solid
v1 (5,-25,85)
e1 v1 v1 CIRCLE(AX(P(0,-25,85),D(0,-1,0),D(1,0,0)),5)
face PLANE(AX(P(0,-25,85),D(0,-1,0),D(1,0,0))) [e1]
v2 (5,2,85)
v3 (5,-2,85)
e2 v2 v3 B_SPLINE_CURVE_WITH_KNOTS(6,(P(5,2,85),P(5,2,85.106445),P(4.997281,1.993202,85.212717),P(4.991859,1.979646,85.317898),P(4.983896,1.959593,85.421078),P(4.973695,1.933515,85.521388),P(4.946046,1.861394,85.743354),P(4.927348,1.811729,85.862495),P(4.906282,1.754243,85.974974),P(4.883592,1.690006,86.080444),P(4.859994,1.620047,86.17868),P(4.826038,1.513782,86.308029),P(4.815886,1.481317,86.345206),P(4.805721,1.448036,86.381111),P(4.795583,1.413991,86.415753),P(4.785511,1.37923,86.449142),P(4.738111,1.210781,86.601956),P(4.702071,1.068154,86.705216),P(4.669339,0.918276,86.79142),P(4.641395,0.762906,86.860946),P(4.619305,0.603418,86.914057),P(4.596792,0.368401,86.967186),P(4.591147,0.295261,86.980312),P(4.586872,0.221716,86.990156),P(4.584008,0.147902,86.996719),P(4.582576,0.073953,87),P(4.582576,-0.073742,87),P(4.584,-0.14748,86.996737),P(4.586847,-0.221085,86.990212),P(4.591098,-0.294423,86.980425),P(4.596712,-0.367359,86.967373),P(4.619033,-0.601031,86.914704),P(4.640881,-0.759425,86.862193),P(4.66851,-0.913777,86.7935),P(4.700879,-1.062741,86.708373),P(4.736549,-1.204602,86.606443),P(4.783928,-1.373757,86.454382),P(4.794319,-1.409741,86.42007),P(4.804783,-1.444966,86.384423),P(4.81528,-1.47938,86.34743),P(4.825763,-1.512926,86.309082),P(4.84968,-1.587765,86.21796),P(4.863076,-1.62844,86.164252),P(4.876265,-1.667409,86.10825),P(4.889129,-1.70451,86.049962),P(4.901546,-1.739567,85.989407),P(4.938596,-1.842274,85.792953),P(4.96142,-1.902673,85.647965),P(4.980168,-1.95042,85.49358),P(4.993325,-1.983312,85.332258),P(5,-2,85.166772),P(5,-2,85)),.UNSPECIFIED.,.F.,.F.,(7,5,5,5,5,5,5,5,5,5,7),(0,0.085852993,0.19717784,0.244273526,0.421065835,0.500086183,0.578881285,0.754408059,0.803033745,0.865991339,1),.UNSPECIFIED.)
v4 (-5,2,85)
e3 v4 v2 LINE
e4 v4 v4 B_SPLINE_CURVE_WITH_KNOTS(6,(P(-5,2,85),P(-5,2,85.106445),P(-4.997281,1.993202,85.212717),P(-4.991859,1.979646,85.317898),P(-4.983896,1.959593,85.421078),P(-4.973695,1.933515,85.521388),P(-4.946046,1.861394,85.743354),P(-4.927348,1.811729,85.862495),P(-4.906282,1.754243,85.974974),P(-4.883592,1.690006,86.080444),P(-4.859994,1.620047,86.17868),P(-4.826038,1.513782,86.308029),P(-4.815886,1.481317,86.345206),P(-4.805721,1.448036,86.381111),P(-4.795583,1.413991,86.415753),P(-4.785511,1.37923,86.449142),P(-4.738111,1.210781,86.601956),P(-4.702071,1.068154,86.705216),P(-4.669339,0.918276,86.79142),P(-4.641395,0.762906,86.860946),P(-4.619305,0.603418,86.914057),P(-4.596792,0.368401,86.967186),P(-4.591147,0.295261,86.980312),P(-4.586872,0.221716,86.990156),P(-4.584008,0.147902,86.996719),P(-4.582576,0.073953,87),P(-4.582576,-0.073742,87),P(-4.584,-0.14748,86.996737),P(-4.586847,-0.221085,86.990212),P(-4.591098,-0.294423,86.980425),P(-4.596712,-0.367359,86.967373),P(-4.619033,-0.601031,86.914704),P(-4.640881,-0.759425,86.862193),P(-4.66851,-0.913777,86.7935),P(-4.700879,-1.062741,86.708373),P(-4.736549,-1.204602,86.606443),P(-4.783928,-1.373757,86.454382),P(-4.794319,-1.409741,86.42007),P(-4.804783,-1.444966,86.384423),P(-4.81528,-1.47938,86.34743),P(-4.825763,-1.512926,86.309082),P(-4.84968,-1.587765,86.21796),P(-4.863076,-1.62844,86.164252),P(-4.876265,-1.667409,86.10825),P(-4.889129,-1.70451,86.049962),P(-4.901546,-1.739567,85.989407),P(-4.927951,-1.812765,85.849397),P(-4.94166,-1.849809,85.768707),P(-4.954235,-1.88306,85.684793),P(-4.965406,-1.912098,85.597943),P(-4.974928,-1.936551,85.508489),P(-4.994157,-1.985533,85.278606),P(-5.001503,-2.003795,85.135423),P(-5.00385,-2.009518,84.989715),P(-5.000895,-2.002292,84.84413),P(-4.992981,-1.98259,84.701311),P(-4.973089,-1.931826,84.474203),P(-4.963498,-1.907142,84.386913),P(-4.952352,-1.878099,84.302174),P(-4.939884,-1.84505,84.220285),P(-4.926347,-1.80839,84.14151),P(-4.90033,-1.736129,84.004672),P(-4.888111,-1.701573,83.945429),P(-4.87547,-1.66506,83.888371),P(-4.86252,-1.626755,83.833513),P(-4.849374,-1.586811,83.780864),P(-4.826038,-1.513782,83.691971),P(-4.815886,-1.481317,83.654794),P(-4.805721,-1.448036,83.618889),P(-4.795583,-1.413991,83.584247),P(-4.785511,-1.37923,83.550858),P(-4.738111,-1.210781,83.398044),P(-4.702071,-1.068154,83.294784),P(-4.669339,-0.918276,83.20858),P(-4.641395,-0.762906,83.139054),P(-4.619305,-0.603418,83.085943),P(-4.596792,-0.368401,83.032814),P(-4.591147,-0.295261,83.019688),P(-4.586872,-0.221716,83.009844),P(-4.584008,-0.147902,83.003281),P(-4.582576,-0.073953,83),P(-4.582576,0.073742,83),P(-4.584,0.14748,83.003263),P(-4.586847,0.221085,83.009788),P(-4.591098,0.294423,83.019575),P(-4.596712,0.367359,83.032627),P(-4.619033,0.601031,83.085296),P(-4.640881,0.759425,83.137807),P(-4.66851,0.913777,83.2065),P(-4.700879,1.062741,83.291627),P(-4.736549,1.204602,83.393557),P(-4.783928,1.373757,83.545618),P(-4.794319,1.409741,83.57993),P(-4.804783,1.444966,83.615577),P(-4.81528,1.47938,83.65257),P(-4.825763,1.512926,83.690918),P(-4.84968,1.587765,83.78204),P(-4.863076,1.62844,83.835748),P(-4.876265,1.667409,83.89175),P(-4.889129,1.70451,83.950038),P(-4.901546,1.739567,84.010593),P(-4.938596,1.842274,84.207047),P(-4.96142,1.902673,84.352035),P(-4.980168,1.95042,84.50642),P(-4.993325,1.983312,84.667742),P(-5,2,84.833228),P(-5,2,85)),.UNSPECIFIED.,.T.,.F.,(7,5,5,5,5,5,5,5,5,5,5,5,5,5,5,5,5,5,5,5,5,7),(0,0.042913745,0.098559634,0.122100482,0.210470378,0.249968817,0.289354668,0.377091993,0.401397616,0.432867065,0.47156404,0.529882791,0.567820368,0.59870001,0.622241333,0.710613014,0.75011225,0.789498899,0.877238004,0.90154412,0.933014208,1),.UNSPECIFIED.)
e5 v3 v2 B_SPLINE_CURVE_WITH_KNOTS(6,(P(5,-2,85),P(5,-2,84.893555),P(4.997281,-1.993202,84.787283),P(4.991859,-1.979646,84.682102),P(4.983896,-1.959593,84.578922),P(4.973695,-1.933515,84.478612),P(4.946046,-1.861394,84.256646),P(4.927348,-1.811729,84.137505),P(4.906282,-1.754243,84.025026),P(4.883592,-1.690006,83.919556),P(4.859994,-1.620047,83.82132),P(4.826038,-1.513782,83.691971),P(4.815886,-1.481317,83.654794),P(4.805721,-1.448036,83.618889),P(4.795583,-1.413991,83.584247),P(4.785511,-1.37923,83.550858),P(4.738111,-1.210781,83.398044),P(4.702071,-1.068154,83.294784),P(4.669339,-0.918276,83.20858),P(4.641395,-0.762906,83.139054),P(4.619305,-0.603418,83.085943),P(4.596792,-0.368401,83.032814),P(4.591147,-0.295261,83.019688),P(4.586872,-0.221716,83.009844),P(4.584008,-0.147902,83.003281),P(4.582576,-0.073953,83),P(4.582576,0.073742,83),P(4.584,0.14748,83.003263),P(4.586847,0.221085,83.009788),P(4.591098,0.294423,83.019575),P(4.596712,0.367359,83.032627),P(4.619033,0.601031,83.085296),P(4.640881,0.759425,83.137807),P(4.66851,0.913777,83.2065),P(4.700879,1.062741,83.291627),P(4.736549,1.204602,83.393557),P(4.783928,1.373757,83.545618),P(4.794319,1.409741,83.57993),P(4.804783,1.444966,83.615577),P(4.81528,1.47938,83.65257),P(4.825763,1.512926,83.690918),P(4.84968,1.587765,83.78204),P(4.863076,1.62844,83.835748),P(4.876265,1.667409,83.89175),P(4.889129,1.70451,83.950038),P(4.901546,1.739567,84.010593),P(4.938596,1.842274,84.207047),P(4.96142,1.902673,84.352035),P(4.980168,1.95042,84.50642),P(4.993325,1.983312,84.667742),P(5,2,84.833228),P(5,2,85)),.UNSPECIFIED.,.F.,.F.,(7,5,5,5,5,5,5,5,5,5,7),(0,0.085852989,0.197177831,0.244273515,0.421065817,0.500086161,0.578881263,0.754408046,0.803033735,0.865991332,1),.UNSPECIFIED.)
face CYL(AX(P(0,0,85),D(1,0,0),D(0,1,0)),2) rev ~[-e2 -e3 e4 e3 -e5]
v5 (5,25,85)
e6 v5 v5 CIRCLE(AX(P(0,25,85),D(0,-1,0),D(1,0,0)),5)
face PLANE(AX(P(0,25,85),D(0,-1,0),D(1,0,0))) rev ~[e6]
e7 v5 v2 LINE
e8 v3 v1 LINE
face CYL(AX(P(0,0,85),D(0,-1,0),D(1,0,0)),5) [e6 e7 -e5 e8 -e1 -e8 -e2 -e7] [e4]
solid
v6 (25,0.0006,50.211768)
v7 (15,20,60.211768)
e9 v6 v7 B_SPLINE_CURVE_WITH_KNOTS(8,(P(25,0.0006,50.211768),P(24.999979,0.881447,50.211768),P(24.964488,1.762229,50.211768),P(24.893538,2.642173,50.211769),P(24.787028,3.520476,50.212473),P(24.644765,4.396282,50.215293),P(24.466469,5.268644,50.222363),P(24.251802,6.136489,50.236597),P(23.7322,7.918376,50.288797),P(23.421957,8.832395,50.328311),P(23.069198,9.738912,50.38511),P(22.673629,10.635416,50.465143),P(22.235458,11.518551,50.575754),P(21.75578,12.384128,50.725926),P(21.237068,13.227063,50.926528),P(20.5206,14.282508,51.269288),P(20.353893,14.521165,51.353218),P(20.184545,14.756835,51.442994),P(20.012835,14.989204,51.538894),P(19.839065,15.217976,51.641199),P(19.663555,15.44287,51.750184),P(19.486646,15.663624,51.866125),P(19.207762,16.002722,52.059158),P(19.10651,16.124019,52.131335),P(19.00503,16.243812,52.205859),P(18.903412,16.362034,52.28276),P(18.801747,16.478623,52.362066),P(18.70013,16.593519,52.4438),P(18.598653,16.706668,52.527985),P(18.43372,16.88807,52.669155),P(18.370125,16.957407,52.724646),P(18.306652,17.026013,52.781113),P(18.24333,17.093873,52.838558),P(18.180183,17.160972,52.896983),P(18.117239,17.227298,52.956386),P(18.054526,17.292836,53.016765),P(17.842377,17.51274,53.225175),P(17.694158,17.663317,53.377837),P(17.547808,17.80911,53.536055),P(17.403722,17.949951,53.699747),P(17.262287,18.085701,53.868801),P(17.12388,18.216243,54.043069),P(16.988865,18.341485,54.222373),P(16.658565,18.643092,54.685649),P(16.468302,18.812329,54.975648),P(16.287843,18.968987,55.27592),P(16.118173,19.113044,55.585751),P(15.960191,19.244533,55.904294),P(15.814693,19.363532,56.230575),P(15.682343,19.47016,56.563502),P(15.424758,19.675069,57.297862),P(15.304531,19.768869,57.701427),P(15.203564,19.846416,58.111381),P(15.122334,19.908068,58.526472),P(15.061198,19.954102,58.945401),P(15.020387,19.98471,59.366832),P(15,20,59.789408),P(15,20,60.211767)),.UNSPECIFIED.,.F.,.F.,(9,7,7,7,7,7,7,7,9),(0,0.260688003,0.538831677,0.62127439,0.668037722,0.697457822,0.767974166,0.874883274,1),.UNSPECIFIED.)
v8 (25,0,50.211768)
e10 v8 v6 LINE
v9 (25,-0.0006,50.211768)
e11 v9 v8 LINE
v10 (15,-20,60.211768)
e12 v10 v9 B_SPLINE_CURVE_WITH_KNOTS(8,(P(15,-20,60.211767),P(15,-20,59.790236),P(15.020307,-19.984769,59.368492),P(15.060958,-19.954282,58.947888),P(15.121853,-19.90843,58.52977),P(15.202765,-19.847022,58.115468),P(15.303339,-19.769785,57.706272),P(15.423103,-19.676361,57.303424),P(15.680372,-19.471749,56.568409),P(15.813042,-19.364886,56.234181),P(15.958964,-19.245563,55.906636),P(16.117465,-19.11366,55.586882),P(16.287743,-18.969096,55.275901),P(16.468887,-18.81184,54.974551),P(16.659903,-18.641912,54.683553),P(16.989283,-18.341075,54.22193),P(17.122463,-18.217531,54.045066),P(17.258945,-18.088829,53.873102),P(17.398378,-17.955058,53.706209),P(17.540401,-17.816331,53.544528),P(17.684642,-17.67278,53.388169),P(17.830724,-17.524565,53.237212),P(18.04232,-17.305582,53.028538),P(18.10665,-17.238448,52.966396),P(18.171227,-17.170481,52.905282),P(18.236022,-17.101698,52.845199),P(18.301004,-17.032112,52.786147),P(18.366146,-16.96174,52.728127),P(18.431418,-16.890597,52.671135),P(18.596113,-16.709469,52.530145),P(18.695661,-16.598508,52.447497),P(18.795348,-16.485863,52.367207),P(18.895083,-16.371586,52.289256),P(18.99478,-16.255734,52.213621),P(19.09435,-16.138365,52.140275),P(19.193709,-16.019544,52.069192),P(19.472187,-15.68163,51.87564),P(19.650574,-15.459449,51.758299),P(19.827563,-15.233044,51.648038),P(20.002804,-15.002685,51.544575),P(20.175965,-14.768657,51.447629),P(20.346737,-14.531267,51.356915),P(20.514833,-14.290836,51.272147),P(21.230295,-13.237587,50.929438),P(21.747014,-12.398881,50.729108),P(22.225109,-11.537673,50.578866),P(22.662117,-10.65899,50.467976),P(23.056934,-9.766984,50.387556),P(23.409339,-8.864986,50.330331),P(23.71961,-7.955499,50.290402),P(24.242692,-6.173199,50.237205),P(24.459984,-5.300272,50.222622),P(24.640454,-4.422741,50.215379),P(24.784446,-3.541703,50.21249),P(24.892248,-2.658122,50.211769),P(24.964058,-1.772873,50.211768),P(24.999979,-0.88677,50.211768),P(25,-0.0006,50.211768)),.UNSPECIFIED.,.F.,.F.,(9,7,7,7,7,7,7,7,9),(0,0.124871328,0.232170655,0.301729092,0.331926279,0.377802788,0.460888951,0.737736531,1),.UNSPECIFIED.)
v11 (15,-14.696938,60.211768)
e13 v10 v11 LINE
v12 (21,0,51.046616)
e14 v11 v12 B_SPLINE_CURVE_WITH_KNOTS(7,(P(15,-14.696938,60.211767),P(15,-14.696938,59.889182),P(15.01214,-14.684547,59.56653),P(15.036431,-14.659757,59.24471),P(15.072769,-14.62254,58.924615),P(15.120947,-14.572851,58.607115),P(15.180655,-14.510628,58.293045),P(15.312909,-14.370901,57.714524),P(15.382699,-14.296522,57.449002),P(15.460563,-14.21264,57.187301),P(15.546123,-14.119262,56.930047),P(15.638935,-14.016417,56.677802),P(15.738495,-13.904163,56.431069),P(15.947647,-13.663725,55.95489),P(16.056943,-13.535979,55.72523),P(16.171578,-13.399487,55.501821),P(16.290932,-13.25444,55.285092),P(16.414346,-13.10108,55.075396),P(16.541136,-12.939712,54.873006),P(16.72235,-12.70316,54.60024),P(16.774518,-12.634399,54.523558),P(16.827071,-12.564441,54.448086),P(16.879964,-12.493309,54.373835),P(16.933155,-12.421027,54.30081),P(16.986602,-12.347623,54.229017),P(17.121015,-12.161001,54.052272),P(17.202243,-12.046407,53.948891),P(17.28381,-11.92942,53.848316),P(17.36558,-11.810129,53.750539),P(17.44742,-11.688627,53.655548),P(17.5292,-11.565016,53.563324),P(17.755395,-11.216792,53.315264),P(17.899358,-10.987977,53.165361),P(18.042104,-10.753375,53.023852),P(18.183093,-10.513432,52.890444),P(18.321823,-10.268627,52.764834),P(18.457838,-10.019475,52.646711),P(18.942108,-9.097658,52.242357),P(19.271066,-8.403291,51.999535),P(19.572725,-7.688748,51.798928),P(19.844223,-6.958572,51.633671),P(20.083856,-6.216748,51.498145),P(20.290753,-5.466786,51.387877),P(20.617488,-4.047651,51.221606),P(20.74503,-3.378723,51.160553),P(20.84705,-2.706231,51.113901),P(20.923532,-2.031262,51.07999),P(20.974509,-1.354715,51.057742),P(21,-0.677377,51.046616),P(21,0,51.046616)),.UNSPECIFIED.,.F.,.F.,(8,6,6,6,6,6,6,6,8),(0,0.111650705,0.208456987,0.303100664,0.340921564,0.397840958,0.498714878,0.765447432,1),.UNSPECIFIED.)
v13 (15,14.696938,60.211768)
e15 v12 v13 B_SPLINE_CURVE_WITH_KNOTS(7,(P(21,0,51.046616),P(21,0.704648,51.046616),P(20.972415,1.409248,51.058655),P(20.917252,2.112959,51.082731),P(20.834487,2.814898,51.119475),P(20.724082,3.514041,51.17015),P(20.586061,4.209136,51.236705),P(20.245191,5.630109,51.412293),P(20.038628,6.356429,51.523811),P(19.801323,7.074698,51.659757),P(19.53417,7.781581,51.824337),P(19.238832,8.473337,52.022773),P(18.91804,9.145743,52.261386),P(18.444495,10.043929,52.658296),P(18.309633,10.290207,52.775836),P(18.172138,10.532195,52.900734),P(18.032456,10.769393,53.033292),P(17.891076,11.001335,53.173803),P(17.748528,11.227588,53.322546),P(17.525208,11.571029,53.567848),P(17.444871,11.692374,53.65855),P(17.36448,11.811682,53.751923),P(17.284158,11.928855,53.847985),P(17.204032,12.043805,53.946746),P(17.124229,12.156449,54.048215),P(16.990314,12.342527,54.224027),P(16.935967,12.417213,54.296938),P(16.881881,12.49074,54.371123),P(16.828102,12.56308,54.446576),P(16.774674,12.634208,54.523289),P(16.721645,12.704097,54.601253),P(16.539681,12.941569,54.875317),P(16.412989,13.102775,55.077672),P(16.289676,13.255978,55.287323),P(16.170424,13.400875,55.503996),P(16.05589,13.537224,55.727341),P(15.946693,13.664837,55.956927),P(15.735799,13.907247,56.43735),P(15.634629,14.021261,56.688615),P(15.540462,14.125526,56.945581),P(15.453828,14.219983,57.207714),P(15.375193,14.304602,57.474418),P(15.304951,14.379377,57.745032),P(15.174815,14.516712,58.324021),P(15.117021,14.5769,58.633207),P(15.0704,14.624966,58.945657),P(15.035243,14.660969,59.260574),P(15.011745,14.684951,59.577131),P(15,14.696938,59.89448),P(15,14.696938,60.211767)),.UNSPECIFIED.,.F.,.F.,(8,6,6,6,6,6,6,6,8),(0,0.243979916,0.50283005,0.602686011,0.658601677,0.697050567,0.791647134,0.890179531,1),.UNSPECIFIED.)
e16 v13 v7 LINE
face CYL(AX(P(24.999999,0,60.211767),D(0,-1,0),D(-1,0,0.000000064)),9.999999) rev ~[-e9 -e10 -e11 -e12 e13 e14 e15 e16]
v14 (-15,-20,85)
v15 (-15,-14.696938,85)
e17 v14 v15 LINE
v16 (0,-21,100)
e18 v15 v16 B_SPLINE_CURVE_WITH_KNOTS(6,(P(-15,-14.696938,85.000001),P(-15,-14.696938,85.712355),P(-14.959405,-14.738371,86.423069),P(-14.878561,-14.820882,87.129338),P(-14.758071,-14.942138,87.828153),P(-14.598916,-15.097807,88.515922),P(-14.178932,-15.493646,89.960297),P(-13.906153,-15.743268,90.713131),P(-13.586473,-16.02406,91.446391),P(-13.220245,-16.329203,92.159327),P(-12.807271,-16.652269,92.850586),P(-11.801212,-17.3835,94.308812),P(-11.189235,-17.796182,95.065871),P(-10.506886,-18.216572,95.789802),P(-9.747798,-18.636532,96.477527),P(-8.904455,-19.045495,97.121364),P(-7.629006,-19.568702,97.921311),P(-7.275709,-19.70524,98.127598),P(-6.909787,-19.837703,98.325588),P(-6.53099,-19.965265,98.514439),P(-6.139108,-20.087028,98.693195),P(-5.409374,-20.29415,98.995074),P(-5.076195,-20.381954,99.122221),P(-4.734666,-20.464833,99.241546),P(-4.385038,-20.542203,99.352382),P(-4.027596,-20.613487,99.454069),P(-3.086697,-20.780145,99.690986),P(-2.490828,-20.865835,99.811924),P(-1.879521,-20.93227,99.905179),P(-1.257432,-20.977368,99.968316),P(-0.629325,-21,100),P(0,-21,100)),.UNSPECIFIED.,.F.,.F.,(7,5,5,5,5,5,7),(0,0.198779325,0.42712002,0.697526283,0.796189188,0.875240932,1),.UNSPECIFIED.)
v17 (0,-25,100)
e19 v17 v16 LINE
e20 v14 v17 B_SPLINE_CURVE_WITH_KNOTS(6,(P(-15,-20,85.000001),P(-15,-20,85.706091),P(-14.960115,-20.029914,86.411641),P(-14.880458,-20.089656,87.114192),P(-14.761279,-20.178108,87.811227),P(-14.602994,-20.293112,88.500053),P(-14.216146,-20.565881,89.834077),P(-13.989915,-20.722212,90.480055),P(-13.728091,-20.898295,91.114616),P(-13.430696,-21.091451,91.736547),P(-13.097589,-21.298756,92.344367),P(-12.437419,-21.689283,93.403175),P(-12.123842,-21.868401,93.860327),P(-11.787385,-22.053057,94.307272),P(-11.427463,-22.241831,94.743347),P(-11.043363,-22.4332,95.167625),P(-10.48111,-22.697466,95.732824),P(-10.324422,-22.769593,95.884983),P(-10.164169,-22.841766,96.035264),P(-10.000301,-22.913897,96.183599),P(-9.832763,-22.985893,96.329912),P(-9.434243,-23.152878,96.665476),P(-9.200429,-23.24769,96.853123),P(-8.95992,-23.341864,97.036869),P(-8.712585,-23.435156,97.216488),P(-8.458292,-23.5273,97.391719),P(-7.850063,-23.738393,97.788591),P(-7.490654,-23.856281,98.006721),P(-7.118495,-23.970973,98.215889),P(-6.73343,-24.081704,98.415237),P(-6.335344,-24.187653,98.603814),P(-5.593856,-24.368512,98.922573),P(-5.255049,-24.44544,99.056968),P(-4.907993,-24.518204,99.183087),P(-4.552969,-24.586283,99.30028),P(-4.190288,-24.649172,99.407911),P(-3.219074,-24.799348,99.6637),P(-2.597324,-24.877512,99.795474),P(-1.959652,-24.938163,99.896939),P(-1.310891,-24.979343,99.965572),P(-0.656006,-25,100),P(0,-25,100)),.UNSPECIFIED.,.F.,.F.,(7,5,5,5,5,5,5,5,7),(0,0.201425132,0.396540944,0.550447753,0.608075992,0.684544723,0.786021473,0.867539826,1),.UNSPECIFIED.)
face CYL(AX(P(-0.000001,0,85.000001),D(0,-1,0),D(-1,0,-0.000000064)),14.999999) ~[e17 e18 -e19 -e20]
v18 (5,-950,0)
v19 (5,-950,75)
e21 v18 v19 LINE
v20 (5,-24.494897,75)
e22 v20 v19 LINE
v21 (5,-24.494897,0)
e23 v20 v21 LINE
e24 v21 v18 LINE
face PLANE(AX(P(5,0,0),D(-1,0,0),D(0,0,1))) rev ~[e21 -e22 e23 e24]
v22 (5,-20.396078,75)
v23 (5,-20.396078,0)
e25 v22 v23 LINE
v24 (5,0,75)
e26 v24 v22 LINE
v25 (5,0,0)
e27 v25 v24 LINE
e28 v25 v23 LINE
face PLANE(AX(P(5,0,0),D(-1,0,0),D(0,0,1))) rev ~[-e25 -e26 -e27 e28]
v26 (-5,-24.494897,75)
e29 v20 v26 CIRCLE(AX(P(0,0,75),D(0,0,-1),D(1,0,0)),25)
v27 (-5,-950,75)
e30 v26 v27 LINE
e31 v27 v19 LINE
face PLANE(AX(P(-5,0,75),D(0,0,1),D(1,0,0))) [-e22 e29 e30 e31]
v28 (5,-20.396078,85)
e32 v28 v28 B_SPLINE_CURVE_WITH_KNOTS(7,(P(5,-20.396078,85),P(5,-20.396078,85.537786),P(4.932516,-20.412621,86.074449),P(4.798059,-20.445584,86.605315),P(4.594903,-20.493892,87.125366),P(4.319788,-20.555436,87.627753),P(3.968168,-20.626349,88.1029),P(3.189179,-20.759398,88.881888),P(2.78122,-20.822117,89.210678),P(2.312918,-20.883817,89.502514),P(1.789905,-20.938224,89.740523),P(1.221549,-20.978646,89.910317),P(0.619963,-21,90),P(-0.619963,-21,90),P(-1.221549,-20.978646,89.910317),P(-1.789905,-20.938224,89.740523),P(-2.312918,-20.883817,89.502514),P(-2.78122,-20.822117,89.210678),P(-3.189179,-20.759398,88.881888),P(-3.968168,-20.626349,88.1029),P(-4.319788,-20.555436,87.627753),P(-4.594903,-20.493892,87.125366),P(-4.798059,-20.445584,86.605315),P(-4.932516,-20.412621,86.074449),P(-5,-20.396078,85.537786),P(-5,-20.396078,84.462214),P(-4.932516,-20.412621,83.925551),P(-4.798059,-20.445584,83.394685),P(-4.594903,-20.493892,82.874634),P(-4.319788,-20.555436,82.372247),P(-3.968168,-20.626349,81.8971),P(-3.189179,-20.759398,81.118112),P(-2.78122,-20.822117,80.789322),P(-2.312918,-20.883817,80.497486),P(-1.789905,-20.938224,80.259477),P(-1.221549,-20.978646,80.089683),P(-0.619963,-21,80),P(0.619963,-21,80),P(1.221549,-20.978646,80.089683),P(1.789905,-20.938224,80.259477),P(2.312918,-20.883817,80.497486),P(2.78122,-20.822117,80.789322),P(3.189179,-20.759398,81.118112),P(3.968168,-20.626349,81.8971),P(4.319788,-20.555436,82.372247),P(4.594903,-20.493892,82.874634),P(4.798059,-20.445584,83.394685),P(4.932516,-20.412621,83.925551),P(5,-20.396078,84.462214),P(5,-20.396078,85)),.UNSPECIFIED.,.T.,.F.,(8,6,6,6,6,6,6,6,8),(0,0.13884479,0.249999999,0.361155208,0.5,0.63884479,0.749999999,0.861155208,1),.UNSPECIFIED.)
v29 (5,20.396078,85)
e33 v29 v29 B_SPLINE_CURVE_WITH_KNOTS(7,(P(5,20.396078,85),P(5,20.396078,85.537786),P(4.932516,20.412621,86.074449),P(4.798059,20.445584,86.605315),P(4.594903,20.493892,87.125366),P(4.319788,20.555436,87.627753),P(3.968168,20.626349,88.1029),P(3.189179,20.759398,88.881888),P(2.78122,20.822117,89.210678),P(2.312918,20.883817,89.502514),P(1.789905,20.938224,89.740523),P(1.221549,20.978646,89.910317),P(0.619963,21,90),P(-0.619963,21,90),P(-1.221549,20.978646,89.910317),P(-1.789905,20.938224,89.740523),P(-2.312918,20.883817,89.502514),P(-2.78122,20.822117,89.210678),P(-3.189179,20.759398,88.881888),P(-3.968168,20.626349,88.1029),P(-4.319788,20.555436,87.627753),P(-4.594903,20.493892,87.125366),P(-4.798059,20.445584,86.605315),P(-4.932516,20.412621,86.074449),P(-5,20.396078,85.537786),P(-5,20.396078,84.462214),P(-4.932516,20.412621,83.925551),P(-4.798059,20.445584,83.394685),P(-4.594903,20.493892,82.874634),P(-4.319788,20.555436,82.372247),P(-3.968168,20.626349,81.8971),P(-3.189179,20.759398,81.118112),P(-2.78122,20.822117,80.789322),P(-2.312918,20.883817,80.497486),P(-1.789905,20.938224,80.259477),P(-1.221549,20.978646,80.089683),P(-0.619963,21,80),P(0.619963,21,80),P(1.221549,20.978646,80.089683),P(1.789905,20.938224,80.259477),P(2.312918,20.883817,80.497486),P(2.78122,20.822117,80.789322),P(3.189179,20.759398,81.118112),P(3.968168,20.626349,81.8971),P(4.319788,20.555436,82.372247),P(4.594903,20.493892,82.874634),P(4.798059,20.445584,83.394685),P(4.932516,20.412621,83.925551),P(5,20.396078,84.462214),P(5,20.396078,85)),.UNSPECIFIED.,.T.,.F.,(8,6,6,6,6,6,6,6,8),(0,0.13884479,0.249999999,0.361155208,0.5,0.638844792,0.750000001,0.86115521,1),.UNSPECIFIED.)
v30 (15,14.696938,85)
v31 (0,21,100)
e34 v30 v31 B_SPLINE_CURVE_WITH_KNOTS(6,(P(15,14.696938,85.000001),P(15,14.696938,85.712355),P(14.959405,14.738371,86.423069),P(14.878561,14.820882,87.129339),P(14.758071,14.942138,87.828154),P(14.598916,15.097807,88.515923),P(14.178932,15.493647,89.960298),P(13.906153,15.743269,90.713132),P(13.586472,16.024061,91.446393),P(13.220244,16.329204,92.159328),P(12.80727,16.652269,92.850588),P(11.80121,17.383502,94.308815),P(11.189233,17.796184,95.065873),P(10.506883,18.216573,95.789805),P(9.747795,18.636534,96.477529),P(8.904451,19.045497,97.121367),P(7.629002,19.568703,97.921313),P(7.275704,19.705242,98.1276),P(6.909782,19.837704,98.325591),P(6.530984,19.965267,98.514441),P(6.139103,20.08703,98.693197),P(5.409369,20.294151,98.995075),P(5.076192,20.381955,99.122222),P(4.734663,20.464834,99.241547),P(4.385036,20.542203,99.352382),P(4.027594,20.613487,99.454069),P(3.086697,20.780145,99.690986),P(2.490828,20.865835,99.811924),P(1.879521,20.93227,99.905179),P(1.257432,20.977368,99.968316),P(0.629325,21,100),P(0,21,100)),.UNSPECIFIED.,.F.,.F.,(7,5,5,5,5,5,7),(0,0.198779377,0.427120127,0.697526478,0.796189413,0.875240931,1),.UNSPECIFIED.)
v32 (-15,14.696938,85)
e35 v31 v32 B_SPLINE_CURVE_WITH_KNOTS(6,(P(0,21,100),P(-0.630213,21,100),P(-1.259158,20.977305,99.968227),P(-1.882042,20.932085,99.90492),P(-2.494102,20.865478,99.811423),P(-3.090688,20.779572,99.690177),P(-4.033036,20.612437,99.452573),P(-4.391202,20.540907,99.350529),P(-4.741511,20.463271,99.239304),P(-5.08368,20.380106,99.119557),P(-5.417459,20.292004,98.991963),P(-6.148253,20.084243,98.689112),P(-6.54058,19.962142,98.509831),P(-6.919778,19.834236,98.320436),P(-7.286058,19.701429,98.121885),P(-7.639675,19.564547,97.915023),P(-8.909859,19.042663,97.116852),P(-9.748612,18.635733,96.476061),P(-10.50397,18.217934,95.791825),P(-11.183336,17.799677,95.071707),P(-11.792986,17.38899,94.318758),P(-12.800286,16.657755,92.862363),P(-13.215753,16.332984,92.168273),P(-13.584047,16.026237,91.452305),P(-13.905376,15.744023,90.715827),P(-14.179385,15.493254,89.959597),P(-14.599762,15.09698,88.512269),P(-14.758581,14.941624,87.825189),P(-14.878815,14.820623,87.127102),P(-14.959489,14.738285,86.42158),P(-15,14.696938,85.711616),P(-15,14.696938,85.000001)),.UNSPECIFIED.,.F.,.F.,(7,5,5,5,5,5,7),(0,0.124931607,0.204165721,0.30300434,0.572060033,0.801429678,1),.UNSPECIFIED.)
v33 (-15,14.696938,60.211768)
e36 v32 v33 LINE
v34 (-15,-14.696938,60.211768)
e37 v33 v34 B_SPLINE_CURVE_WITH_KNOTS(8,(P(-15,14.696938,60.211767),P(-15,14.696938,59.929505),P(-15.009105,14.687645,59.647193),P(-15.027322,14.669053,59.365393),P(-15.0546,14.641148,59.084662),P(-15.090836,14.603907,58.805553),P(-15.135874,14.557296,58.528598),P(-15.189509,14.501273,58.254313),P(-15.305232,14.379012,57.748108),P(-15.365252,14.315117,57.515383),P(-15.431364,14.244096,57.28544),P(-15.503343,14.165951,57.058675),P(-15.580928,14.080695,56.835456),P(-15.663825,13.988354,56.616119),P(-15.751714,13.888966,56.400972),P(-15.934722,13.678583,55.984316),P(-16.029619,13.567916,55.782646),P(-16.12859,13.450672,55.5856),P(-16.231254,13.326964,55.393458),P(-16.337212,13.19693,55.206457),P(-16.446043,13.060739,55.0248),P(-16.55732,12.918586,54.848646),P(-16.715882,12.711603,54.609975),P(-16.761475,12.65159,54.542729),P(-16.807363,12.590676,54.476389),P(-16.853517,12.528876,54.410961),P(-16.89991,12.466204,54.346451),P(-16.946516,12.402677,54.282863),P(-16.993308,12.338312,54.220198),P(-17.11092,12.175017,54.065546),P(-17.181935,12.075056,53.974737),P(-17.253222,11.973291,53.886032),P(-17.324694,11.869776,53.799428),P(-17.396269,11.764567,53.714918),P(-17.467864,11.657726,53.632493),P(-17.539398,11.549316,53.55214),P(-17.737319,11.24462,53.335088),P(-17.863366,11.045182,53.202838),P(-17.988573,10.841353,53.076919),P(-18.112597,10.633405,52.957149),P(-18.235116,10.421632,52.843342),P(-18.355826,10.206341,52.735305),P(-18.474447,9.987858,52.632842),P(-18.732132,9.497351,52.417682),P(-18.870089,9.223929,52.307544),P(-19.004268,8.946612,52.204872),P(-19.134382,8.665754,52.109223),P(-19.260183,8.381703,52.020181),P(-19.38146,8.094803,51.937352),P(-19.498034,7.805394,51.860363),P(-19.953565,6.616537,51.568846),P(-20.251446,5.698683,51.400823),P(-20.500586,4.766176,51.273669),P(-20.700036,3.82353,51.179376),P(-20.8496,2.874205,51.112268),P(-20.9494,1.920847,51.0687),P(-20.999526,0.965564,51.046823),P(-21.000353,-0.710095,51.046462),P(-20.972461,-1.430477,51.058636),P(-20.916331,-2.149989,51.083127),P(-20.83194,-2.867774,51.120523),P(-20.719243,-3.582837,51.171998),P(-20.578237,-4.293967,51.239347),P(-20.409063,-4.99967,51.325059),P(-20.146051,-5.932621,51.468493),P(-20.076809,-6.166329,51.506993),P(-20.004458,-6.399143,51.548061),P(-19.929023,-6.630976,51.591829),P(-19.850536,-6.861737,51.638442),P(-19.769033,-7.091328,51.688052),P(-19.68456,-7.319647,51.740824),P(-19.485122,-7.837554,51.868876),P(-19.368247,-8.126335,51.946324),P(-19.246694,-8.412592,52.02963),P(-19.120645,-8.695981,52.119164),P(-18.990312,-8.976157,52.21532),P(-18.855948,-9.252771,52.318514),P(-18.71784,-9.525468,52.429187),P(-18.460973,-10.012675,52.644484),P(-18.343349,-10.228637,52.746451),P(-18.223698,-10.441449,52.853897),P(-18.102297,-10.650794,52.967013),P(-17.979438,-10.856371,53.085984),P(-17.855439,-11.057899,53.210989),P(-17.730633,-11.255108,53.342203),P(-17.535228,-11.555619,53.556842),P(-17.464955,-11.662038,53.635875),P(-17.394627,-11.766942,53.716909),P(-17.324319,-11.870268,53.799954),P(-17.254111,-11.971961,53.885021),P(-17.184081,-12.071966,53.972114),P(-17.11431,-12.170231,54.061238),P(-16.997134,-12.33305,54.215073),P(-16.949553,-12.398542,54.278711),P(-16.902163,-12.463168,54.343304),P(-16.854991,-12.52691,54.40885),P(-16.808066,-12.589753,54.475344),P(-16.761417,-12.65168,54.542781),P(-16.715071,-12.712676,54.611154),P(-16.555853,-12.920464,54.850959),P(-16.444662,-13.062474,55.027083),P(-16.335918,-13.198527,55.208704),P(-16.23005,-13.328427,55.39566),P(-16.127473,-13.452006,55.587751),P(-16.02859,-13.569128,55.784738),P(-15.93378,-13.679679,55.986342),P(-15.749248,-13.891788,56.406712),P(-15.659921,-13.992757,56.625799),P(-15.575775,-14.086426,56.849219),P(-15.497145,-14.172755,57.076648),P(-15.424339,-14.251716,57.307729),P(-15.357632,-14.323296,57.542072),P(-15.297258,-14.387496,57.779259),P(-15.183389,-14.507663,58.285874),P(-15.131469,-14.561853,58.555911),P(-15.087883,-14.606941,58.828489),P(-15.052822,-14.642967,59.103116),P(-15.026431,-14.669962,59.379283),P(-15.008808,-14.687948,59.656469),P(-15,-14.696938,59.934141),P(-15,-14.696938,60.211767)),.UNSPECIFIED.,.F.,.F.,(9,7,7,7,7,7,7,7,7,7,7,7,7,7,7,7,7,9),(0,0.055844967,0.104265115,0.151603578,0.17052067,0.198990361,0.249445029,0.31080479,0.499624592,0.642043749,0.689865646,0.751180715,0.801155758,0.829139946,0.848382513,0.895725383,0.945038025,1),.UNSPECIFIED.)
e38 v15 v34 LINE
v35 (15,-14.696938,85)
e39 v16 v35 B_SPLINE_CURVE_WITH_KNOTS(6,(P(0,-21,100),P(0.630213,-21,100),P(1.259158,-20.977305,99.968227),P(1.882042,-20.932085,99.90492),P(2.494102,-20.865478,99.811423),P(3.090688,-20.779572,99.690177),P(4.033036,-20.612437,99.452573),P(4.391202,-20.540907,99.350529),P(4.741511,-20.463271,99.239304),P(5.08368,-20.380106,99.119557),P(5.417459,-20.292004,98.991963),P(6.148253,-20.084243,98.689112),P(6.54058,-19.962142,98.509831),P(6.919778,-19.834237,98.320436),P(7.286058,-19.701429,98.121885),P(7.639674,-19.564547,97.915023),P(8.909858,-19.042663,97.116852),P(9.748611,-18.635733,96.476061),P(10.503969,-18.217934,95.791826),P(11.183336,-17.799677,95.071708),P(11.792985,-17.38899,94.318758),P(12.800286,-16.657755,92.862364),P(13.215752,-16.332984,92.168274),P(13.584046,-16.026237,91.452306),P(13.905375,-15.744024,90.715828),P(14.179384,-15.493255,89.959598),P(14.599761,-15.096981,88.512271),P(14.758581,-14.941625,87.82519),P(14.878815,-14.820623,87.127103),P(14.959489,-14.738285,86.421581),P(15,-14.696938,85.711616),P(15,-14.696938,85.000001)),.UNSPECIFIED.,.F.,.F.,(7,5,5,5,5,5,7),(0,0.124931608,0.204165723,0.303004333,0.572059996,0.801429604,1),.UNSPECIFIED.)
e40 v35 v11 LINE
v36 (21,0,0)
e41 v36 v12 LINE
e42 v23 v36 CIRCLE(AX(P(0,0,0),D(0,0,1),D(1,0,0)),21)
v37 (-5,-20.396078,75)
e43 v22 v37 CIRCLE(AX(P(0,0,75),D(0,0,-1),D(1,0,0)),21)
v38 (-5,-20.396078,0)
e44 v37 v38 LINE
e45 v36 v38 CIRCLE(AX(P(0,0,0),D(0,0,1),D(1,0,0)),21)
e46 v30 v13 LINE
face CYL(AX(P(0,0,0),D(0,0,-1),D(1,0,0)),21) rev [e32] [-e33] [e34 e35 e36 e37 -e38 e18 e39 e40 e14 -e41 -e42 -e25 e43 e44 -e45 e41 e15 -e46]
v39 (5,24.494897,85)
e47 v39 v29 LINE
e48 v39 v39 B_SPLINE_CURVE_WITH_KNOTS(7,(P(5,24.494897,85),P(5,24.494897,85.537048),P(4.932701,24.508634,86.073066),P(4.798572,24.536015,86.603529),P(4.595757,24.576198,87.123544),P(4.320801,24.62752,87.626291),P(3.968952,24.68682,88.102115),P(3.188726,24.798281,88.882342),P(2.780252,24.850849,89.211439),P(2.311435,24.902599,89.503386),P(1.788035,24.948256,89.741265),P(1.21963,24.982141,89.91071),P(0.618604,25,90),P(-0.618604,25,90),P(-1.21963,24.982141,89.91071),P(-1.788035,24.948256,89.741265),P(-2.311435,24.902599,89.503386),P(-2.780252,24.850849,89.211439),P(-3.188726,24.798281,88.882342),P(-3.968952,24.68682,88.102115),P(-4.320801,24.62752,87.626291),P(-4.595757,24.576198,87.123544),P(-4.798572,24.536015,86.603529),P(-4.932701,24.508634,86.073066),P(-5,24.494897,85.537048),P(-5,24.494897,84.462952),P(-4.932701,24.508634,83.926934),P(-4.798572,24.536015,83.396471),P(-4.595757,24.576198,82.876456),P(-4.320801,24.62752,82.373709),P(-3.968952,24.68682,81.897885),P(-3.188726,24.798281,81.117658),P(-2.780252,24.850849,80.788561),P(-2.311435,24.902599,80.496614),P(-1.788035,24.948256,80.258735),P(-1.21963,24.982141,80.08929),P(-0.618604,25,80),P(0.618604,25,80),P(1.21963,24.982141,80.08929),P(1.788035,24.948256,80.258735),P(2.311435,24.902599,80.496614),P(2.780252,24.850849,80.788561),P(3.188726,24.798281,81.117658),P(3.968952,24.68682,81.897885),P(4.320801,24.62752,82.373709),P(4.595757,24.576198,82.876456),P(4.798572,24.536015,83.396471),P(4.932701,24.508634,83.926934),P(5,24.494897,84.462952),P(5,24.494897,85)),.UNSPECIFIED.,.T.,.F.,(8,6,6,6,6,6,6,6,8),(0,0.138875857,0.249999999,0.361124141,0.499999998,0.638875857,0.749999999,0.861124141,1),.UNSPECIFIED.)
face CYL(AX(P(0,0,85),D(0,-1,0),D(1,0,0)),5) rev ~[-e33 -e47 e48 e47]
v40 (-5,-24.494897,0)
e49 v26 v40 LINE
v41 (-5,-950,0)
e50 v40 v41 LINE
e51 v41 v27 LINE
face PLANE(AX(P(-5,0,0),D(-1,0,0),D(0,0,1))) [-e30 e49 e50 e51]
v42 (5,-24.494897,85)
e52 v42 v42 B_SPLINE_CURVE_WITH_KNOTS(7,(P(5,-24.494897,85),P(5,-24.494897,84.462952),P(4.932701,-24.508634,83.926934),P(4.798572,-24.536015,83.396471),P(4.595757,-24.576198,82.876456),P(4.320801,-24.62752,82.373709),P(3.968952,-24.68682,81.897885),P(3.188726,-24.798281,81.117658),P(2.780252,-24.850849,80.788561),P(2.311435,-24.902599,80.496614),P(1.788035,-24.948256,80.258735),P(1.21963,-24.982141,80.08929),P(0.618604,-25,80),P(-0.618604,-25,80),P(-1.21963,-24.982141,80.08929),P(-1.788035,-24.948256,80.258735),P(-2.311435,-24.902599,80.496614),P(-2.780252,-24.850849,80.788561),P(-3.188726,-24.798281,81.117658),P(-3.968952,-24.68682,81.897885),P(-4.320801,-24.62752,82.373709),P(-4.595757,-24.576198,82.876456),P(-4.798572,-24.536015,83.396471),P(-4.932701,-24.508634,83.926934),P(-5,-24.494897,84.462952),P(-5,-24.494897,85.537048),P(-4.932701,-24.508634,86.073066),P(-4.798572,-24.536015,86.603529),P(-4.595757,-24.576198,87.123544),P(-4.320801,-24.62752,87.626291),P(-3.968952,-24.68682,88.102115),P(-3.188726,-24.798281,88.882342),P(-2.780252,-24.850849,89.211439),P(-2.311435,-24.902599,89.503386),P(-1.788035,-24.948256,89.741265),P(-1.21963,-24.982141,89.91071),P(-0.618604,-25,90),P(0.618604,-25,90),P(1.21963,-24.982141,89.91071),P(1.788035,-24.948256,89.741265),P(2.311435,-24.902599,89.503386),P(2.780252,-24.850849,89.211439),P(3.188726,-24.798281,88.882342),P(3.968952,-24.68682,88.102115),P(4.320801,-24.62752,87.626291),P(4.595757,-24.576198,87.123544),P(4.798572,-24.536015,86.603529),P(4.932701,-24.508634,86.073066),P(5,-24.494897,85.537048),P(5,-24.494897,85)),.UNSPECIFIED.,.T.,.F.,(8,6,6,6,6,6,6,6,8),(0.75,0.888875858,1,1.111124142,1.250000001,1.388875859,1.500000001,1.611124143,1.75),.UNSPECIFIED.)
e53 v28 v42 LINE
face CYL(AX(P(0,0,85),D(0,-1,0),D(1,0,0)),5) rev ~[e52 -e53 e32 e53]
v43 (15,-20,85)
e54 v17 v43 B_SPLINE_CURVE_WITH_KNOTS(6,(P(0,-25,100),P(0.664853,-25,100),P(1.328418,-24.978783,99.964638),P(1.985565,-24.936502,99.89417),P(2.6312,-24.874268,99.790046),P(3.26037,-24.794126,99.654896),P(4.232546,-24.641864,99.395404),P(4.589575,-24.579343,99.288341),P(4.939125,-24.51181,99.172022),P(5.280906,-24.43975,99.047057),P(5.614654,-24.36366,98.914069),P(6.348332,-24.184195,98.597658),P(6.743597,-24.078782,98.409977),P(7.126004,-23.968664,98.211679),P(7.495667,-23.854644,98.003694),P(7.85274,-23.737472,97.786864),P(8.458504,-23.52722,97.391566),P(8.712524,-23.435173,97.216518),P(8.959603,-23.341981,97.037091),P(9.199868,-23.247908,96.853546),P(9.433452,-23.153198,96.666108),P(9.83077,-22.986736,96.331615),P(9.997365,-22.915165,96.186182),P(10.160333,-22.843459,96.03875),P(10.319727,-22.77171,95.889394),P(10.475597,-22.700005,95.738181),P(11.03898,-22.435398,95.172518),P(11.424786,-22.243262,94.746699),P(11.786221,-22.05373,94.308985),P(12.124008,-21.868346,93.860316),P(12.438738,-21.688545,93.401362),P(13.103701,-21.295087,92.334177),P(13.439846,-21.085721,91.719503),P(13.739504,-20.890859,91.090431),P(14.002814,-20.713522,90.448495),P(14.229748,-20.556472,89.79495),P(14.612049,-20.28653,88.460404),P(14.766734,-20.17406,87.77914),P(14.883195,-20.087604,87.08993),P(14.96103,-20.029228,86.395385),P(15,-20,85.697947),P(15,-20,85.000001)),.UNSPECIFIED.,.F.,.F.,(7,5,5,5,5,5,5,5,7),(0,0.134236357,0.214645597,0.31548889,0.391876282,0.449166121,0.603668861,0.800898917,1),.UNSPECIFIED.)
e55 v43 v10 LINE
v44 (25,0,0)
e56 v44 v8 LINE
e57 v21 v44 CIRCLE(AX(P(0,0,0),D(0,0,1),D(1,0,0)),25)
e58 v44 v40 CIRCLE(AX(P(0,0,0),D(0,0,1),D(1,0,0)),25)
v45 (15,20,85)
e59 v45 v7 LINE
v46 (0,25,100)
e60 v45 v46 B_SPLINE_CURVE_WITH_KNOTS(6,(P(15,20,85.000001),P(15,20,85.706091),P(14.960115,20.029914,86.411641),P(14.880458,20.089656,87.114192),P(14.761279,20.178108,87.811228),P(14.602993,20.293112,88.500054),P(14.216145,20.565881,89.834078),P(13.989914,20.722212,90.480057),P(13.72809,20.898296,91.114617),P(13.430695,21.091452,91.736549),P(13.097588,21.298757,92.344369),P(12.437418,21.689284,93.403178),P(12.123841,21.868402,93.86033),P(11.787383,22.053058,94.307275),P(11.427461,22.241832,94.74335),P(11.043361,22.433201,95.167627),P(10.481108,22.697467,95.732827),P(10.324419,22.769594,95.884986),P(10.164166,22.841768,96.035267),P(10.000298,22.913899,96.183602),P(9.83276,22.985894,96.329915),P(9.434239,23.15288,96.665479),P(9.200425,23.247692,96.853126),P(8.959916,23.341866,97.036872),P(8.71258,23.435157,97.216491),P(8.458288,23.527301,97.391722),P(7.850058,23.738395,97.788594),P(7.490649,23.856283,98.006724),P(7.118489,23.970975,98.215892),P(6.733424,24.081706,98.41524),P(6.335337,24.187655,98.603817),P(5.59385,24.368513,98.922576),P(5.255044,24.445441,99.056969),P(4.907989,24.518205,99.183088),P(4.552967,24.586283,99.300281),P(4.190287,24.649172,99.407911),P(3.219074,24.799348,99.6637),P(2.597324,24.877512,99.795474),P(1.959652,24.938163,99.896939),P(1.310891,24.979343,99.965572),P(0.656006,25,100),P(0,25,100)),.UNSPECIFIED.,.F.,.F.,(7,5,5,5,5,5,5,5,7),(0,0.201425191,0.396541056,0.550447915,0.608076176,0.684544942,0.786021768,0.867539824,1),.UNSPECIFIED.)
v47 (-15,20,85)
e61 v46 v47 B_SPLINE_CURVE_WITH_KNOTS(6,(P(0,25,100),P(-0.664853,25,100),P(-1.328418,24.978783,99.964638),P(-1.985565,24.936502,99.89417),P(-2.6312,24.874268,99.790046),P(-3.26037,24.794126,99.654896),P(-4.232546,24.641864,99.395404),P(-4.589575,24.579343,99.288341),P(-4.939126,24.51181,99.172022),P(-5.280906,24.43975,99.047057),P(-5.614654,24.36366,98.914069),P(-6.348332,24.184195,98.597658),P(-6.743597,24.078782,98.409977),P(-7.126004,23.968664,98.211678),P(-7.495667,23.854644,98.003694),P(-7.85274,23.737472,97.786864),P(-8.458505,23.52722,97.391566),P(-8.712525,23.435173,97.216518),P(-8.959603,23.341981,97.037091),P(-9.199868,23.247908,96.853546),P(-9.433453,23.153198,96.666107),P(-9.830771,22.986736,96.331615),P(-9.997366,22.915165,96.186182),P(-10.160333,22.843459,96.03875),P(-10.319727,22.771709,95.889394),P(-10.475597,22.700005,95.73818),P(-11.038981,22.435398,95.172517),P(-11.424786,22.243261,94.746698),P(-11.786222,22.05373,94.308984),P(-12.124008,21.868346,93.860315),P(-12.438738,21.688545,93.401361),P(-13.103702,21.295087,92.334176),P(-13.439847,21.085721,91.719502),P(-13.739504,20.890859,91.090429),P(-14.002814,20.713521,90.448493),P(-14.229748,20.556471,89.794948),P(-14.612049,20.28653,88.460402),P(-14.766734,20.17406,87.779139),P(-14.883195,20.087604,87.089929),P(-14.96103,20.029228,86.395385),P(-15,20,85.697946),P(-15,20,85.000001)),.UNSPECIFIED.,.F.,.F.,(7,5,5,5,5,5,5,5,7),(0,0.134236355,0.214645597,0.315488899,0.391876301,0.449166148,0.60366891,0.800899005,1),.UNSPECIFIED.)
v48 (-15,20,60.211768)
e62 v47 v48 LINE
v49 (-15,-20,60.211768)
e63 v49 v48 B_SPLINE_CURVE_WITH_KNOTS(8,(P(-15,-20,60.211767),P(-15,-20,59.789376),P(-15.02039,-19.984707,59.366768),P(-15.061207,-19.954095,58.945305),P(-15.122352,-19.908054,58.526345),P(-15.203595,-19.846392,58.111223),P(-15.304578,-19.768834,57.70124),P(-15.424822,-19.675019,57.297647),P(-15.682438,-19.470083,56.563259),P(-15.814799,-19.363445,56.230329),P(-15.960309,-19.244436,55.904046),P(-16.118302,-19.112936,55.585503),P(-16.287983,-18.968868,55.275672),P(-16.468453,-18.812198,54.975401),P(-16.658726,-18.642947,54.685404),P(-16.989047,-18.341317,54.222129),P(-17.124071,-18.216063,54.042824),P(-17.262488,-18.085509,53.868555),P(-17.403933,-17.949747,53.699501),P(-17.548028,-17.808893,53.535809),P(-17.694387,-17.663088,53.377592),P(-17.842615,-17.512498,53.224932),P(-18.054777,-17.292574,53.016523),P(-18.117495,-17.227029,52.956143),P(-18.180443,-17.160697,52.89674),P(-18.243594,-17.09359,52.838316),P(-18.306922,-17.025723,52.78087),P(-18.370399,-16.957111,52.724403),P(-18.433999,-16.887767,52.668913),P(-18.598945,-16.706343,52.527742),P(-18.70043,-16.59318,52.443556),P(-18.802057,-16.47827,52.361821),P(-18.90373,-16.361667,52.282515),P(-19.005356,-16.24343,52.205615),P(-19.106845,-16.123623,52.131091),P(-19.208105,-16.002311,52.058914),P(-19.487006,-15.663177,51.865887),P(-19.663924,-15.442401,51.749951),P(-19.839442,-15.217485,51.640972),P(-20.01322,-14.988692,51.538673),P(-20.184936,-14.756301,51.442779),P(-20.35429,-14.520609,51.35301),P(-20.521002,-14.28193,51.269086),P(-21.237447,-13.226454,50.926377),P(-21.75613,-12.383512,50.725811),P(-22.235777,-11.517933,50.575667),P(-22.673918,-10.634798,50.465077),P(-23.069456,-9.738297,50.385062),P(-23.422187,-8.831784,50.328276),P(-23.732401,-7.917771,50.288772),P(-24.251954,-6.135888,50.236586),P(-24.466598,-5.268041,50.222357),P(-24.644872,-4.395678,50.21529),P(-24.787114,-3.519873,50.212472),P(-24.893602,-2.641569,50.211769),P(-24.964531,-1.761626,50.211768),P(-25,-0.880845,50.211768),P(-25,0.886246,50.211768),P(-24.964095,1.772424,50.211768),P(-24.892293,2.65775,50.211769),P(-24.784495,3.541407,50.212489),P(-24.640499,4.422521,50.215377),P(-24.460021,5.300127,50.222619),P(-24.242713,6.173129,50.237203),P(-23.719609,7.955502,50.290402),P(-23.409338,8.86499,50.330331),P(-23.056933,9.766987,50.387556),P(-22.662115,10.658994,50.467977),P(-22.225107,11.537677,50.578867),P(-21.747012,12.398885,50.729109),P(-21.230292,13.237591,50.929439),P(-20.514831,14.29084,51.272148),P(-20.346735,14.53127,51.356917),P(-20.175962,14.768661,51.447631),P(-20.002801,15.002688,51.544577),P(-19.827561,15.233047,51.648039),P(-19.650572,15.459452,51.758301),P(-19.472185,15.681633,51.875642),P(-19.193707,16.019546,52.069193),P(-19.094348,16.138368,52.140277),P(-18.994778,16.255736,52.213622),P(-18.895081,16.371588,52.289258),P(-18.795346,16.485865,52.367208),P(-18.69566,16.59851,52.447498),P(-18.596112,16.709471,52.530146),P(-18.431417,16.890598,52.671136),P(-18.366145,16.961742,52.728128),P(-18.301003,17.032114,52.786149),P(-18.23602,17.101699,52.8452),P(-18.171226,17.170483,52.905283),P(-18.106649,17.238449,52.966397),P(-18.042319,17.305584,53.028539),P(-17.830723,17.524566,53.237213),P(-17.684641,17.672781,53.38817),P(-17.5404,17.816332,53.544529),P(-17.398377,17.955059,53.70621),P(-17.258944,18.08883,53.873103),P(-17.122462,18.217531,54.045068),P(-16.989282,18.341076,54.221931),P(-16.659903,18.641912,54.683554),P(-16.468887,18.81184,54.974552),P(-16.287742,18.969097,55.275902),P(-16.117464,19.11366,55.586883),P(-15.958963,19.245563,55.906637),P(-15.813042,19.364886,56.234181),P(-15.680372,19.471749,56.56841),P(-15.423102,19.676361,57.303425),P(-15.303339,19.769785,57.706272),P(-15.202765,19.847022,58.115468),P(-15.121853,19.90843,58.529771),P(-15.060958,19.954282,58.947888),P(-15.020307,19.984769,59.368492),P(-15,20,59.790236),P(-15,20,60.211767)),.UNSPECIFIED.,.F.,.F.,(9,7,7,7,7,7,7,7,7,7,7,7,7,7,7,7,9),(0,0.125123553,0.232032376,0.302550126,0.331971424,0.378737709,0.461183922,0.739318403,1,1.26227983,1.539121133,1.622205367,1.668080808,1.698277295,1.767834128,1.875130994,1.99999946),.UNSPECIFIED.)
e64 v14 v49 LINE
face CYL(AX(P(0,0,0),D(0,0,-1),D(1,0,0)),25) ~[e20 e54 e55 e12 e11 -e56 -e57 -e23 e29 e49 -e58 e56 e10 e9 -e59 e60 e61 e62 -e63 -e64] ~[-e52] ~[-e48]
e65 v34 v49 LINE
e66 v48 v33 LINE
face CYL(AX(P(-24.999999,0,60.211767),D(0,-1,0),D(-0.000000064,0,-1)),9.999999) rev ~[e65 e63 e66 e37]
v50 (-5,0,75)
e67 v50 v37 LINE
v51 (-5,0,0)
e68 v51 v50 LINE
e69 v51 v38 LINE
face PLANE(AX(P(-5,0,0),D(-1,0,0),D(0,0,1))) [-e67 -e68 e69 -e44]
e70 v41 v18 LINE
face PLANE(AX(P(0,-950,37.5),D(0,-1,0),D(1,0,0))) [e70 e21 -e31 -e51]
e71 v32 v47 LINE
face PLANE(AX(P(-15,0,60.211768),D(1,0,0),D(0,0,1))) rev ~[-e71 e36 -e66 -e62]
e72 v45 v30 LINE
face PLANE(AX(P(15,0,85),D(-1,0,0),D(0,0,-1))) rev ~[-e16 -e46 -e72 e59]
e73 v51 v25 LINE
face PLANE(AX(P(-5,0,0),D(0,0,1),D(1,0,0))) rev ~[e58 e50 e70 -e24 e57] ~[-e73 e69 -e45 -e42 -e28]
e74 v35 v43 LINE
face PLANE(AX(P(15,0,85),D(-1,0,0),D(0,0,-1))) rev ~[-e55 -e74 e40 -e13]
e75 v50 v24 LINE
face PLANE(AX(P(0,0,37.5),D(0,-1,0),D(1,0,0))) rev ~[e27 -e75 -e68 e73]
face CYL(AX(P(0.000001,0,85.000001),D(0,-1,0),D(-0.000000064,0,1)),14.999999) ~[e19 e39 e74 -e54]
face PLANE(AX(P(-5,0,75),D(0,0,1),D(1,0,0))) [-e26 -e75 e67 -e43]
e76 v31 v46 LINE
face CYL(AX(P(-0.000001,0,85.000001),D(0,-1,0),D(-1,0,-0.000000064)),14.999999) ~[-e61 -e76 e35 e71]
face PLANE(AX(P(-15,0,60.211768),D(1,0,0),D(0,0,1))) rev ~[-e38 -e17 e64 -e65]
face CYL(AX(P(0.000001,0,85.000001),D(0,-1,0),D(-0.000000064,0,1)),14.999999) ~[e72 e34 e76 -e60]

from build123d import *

# Parameters (mm, degrees)
F0_R      = 25
F0_R_2    = 21
F1_DEPTH  = 100
F3_DEPTH  = 25
F4_R      = 5
F5_DEPTH  = 25
F6_DEPTH  = 25
F7_R      = 2
F8_DEPTH  = 5
F9_W      = 10
F9_H      = 75
F10_DEPTH = 950


with BuildPart() as f1:
    # F0 (on Top) → F1 (new body)
    with BuildSketch(Plane.XY):
        Circle(F0_R)
        Circle(F0_R_2, mode=Mode.SUBTRACT)
    extrude(amount=F1_DEPTH)

    # F2 (on Front) → F3 (cut, symmetric)
    with BuildSketch(Plane.XZ):
        with BuildLine():
            Line((25, 100), (0, 100))
            ThreePointArc((0, 100), (10.606602, 95.606602), (15, 85))
            Line((15, 85), (15, 60.211768))
            ThreePointArc((15, 60.211768), (17.928932, 53.1407), (25, 50.211768))
            Line((25, 50.211768), (25, 100))
        make_face()
        with BuildLine():
            Line((-25, 100), (-25, 50.211768))
            ThreePointArc((-25, 50.211768), (-17.928932, 53.1407), (-15, 60.211768))
            Line((-15, 60.211768), (-15, 85))
            ThreePointArc((-15, 85), (-10.606602, 95.606602), (0, 100))
            Line((0, 100), (-25, 100))
        make_face()
    extrude(amount=F3_DEPTH, both=True, mode=Mode.SUBTRACT)

    # F4 (on Front) → F5 (cut, symmetric)
    with BuildSketch(Plane.XZ):
        with Locations((0, 85)):
            Circle(F4_R)
    extrude(amount=F5_DEPTH, both=True, mode=Mode.SUBTRACT)

    # F9 (on Front) → F10 (join)
    with BuildSketch(Plane.XZ):
        with Locations((0, 37.5)):
            Rectangle(F9_W, F9_H)
    extrude(amount=F10_DEPTH)


with BuildPart() as f6:
    # F4 (on Front) → F6 (new body, symmetric)
    with BuildSketch(Plane.XZ):
        with Locations((0, 85)):
            Circle(F4_R)
    extrude(amount=F6_DEPTH, both=True)

    # F7 (on Right) → F8 (cut, symmetric)
    with BuildSketch(Plane.YZ):
        with Locations((0, 85)):
            Circle(F7_R)
    extrude(amount=F8_DEPTH, both=True, mode=Mode.SUBTRACT)


solid = Compound([f1.part, f6.part])
